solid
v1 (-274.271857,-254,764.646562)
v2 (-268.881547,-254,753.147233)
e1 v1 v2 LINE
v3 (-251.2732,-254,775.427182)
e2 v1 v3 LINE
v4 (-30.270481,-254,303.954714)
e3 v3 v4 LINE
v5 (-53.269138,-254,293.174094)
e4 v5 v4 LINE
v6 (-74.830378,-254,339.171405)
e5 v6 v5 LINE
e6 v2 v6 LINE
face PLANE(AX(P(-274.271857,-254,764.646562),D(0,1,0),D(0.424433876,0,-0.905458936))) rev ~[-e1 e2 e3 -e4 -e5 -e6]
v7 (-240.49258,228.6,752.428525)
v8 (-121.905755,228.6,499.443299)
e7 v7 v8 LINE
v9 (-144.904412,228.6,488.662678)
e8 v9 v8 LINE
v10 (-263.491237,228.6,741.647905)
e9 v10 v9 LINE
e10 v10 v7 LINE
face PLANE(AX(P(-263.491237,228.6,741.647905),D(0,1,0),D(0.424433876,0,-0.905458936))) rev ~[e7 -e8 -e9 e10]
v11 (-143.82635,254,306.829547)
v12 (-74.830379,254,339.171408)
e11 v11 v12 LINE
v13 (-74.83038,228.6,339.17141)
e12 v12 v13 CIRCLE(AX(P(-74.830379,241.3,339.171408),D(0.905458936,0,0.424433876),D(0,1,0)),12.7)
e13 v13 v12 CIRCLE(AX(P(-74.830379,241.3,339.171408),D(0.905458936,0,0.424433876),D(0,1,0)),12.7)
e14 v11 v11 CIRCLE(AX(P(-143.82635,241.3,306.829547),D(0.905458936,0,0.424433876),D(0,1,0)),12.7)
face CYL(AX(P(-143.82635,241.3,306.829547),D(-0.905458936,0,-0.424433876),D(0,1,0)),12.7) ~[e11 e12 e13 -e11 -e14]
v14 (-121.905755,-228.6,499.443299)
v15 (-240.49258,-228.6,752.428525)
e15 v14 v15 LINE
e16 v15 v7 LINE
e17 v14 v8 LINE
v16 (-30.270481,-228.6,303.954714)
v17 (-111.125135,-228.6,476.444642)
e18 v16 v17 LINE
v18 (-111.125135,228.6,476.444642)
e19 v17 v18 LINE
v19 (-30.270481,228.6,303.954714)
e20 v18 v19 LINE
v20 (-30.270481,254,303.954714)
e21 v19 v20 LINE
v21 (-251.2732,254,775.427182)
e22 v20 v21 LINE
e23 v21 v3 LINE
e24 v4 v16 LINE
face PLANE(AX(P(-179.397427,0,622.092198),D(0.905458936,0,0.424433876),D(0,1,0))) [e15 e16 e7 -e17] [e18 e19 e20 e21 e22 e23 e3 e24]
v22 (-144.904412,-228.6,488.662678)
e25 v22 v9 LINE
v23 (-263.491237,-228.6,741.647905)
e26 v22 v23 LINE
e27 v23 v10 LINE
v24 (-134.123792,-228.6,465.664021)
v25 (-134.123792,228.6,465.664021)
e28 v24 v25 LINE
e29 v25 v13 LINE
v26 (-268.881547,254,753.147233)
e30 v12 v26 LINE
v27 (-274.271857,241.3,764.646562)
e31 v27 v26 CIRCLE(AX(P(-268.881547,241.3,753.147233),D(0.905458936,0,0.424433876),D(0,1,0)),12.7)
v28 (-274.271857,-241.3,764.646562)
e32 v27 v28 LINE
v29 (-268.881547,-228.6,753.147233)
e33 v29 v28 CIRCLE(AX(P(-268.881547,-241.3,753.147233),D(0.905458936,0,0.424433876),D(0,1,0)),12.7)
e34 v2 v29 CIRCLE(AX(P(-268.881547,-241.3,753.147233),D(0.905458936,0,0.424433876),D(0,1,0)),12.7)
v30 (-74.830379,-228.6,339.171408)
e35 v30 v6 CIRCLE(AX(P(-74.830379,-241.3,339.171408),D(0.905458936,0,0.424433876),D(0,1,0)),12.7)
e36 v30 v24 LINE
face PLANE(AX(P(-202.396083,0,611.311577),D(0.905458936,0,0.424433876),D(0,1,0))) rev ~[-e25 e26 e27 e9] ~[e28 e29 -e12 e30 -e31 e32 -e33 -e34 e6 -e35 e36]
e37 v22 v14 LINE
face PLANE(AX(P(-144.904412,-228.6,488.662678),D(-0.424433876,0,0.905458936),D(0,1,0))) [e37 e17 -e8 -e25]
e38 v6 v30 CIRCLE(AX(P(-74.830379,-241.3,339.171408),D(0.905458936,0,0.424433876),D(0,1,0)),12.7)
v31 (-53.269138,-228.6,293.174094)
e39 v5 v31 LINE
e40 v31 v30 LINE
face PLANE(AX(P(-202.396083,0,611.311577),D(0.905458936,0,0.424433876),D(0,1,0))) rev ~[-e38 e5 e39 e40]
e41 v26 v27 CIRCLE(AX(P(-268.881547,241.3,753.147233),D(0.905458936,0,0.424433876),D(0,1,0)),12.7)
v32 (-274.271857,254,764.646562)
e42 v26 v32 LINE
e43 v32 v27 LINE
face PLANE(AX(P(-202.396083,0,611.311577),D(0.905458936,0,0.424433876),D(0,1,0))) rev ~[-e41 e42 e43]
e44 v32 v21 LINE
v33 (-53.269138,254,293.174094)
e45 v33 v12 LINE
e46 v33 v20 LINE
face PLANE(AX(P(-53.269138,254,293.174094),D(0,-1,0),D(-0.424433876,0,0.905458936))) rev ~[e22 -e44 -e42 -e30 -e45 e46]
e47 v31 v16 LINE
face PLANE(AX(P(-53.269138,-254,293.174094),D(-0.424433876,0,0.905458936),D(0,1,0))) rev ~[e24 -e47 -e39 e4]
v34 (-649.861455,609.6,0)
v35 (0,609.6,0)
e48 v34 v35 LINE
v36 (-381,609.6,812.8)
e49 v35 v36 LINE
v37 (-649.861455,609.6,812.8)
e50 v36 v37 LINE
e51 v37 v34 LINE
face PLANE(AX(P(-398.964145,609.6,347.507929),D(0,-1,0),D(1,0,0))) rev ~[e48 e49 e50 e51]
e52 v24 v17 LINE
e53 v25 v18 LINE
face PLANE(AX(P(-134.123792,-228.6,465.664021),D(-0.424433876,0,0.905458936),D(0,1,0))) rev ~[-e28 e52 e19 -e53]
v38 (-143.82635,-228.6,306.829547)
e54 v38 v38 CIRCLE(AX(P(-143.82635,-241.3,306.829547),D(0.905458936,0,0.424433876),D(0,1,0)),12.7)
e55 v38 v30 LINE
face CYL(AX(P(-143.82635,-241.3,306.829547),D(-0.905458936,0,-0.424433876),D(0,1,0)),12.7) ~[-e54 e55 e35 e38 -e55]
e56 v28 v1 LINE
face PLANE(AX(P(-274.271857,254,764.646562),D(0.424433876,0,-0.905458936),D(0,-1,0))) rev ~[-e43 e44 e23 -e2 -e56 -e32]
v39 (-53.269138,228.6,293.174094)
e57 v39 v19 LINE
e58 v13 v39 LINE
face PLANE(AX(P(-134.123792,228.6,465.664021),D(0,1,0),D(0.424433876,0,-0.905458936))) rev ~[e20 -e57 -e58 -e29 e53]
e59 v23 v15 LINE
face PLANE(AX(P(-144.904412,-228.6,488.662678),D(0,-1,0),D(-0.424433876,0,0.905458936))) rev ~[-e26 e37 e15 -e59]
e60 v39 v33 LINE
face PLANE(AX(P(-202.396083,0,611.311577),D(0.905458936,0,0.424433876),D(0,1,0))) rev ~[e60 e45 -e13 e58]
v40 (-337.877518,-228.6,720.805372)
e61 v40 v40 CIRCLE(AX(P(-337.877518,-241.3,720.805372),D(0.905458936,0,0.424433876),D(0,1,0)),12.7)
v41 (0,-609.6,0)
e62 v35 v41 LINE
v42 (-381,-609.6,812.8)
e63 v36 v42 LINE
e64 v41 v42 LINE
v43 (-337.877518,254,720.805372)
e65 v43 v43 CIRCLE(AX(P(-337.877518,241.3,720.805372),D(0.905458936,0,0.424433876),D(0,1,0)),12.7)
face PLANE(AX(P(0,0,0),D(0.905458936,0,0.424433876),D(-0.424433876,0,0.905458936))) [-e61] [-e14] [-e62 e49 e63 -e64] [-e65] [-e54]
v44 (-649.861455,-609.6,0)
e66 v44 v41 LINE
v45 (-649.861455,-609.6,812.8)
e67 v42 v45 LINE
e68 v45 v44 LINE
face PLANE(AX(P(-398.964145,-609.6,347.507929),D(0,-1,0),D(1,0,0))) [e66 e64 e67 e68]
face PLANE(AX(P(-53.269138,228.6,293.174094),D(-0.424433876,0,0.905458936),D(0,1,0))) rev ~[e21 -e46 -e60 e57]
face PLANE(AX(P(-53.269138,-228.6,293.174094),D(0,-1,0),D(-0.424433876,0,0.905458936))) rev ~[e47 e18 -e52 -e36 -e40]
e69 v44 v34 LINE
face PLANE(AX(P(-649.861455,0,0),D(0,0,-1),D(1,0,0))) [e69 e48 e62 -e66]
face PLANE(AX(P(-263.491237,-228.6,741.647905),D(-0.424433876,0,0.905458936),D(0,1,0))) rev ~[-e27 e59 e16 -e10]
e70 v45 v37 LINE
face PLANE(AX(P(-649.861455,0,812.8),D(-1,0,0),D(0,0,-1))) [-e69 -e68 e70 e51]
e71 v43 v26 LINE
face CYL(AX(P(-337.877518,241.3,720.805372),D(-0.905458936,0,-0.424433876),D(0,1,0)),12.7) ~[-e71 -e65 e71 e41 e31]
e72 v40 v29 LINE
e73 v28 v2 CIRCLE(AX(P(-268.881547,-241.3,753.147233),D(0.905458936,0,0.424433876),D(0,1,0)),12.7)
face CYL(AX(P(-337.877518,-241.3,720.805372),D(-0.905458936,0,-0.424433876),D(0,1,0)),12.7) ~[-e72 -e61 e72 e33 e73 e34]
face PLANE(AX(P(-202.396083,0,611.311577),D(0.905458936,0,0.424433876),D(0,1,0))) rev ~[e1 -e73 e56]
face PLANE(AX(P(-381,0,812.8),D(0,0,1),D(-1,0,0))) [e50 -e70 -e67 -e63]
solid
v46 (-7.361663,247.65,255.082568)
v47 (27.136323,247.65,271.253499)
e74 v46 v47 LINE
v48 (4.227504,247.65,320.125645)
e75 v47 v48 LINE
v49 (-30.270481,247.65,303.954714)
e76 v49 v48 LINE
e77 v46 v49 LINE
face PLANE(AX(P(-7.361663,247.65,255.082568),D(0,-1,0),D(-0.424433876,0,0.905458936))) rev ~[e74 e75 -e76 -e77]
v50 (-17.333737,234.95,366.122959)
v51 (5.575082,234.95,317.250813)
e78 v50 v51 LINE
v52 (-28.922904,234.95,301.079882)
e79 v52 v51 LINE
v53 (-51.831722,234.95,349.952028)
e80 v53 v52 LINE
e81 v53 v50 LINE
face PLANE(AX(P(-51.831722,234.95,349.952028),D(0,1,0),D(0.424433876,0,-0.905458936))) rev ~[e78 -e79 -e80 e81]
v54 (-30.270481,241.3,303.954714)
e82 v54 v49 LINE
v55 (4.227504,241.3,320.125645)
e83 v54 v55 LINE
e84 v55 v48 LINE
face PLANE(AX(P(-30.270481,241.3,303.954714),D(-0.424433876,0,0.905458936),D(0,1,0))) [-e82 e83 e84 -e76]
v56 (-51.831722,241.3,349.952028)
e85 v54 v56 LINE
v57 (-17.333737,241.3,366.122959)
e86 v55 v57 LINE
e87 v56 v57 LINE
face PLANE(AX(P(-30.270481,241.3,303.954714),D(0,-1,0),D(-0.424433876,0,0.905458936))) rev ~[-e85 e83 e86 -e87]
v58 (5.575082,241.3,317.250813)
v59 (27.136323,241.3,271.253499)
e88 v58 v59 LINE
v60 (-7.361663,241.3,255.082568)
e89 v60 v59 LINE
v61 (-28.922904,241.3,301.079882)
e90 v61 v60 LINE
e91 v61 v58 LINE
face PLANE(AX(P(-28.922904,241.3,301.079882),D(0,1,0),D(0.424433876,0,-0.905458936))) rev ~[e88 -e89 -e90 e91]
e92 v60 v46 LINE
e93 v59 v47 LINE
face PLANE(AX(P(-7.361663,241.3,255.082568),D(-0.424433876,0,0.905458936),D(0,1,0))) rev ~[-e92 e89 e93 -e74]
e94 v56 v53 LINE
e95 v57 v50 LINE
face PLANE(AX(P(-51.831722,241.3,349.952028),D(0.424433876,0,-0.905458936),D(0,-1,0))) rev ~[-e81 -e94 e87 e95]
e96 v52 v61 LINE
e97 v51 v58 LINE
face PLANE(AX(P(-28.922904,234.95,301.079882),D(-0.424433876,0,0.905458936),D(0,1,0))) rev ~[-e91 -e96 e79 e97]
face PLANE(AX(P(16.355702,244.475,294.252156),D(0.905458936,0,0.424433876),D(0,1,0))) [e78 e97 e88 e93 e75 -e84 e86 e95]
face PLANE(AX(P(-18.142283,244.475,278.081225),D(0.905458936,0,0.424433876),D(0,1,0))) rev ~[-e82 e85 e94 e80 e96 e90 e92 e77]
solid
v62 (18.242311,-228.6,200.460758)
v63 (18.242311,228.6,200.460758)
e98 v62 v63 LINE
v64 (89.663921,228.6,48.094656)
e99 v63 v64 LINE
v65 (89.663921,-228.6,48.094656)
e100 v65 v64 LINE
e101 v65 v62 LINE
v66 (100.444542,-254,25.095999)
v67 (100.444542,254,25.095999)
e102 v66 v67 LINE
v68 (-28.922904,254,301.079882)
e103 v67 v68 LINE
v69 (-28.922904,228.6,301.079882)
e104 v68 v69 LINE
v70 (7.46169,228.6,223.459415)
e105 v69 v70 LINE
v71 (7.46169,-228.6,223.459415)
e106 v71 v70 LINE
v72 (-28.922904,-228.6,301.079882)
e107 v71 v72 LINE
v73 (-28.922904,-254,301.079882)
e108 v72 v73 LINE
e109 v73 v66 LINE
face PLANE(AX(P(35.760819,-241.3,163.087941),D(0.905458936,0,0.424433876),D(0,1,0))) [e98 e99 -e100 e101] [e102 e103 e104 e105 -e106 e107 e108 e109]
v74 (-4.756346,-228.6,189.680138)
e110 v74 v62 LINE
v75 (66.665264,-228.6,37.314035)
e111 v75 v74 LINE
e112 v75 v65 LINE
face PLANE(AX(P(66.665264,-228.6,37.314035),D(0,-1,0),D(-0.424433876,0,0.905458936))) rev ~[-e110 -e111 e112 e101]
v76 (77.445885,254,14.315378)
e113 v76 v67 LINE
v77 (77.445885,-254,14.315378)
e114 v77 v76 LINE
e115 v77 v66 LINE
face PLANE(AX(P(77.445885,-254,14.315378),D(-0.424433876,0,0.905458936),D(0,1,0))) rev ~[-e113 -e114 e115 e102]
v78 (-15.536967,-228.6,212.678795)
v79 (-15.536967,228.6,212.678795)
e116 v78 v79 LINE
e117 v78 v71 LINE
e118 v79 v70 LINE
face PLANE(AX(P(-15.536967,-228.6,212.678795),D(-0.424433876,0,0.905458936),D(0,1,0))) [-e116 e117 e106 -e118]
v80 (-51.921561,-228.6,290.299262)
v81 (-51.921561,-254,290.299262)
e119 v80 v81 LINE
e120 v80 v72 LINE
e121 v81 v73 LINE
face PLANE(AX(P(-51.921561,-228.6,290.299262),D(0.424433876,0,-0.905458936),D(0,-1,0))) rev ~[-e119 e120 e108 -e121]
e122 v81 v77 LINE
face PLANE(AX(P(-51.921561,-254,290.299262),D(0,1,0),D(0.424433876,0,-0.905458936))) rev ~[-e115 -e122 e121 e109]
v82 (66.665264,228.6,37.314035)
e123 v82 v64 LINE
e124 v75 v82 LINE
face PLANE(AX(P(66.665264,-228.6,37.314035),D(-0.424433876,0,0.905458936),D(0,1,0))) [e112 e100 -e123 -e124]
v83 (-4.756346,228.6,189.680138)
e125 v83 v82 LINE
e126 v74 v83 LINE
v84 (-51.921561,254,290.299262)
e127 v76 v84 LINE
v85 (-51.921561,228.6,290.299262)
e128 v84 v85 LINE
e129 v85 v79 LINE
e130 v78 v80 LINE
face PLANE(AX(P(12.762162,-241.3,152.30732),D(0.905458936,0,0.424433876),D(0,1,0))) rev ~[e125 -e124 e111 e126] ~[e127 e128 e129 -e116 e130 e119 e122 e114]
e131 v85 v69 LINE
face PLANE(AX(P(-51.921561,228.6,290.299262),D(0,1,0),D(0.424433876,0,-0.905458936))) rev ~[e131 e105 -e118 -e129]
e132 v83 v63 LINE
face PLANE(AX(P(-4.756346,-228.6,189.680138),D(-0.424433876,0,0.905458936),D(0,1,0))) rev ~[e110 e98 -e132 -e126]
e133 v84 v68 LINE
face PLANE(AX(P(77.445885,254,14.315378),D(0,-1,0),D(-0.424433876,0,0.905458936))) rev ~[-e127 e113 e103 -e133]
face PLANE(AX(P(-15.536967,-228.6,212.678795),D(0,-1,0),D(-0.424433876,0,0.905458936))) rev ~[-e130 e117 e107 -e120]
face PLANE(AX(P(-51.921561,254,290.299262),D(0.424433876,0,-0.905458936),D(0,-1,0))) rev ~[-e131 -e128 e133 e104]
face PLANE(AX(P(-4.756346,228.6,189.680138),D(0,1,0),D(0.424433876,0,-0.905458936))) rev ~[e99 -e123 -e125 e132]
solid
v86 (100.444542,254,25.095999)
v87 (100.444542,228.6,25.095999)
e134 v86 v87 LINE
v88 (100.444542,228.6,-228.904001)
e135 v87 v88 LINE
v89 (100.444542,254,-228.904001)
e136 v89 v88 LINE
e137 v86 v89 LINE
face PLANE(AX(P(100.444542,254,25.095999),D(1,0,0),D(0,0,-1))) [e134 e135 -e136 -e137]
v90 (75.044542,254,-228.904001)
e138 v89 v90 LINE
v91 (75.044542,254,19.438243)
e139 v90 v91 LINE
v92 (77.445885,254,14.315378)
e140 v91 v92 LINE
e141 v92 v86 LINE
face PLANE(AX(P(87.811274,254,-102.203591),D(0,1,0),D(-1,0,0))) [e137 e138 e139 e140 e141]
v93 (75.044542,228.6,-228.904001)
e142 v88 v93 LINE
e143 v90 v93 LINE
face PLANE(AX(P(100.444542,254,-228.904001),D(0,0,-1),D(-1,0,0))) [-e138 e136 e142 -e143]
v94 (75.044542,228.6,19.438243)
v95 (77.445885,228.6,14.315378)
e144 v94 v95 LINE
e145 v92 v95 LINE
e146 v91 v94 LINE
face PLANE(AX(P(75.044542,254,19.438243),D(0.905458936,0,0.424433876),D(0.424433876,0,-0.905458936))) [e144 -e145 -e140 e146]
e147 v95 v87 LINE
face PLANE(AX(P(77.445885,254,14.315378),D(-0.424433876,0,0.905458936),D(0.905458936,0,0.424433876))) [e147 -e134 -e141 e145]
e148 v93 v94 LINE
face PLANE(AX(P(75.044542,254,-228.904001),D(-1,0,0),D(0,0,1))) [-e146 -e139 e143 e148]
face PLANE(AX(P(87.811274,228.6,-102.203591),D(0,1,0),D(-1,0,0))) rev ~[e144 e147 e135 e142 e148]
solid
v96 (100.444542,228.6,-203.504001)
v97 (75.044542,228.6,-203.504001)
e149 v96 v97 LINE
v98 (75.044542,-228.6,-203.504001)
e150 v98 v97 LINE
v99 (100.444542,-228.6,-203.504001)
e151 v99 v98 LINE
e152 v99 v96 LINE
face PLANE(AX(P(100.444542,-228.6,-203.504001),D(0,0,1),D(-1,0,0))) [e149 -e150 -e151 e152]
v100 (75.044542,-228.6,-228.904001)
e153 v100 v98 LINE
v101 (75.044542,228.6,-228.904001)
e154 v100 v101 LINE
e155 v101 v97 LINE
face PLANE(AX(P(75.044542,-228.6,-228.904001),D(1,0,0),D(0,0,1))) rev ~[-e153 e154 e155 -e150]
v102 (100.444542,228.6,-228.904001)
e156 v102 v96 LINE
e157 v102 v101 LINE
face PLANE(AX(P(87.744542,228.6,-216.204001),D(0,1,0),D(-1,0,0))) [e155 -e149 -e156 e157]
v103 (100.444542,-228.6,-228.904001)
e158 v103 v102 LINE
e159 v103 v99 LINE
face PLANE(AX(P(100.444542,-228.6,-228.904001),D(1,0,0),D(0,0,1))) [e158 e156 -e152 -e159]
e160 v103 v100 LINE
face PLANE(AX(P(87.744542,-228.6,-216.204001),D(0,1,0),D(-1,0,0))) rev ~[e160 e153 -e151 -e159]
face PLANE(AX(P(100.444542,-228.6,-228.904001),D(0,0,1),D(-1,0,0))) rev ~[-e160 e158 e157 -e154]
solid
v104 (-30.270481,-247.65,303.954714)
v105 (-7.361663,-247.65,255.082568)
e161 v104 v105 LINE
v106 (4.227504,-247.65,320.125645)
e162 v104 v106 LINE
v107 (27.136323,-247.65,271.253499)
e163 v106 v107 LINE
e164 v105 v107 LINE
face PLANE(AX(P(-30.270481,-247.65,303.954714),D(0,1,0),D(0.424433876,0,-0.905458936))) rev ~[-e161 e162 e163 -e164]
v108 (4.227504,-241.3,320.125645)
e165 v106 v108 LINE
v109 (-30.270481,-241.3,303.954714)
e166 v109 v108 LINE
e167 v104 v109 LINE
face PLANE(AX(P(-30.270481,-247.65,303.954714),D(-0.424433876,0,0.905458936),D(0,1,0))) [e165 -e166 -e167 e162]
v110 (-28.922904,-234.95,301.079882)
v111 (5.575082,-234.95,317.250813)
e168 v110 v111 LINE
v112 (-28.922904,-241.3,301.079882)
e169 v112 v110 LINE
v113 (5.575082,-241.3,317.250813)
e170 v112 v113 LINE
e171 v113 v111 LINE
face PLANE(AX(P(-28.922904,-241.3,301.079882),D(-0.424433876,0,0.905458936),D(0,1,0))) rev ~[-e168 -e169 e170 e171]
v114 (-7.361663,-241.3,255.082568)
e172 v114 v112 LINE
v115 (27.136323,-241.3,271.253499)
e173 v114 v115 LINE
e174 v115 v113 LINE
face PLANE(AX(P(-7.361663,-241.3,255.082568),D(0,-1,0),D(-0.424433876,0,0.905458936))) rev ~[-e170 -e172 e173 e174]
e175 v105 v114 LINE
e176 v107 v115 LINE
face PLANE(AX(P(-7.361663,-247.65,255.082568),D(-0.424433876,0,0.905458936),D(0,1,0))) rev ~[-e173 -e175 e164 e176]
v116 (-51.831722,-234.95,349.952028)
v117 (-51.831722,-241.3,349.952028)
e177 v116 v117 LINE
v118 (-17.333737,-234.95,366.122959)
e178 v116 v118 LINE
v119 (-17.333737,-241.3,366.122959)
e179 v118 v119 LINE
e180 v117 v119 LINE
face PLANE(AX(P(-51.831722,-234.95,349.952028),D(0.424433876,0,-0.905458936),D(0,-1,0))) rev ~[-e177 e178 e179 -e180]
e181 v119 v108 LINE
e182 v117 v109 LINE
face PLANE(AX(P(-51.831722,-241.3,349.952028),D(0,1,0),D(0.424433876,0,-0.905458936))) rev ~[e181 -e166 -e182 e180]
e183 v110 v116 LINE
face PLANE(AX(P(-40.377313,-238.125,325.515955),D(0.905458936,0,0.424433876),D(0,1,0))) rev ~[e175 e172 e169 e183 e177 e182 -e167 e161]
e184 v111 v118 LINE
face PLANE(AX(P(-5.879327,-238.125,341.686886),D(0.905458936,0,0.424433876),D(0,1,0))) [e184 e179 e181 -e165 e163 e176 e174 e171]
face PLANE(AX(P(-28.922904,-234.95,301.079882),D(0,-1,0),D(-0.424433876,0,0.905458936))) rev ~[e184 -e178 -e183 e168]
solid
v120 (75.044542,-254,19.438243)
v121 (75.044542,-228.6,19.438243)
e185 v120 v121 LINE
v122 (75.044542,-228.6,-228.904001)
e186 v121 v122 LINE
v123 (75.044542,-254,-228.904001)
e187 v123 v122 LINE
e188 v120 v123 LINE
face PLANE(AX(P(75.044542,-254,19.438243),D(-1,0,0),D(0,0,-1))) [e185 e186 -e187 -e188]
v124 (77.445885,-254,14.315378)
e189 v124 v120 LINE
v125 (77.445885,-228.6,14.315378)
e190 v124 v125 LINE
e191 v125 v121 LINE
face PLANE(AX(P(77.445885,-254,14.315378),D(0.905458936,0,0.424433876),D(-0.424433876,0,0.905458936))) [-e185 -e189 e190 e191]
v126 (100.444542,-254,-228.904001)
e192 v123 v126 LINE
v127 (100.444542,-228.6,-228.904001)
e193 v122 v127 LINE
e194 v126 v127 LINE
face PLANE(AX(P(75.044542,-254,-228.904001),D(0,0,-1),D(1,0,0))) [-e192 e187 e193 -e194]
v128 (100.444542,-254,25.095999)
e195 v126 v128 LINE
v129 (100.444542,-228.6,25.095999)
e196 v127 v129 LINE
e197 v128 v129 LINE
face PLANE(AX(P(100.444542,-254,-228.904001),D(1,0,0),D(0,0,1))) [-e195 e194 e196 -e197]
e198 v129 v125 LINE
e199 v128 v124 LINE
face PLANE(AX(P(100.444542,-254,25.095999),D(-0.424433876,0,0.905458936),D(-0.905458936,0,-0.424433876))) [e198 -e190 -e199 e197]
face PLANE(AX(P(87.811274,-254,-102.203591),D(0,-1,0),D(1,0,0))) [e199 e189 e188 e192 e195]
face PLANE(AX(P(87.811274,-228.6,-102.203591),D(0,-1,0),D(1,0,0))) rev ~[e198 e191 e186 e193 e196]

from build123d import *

# Parameters (mm, degrees)
F1_DEPTH  = 609.6
F2_R      = 12.7
F3_DEPTH  = 76.2
F4_W      = 457.2
F4_H      = 25.4
F5_DEPTH  = 25.4
F7_DEPTH  = 25.4
F9_DEPTH  = 25.4
F10_W     = 25.4
F10_H     = 25.4
F11_DEPTH = 457.2
F12_W     = 6.35
F12_H     = 50.8
F12_H_2   = 3.175
F13_DEPTH = 38.1


with BuildPart() as f1:
    # F0 (on Front) → F1 (new body, symmetric)
    with BuildSketch(Plane.XZ):
        Polygon((-649.8614549637, 0), (0, 0), (-381, 812.8), (-649.8614549637, 812.8), align=None)
    extrude(amount=F1_DEPTH, both=True)

    # F2 (on face) → F3 (join)
    with BuildSketch(Plane(origin=(0, 0, 0), x_dir=(0, 1, 0), z_dir=(0.905458936, 0, 0.4244338762))):
        with Locations((-241.3, 796.0663299913)):
            Circle(F2_R)
        with Locations((241.3, 796.0663299913)):
            Circle(F2_R)
        with Locations((241.3, 338.8663299913)):
            Circle(F2_R)
        with Locations((-241.3, 338.8663299913)):
            Circle(F2_R)
    extrude(amount=F3_DEPTH)

    # F4 (on face) → F5 (join)
    with BuildSketch(Plane(origin=(68.9959709201, 0, 32.3418613688), x_dir=(0, 1, 0), z_dir=(0.905458936, 0, 0.4244338762))):
        with BuildLine():
            Line((228.6, 796.0663299913), (-228.6, 796.0663299913))
            ThreePointArc((-228.6, 796.0663299913), (-232.3197438789, 787.0860738702), (-241.3, 783.3663299913))
            Line((-241.3, 783.3663299913), (-241.3, 351.5663299913))
            ThreePointArc((-241.3, 351.5663299913), (-232.3197438789, 347.8465861123), (-228.6, 338.8663299913))
            Line((-228.6, 338.8663299913), (-228.6, 478.5663299913))
            Line((-228.6, 478.5663299913), (-228.6, 503.9663299913))
            Line((-228.6, 503.9663299913), (-228.6, 783.3663299913))
            Line((-228.6, 783.3663299913), (228.6, 783.3663299913))
            Line((228.6, 783.3663299913), (228.6, 503.9663299913))
            Line((228.6, 503.9663299913), (228.6, 478.5663299913))
            Line((228.6, 478.5663299913), (228.6, 338.8663299913))
            ThreePointArc((228.6, 338.8663299913), (232.3197438789, 347.8465861123), (241.3, 351.5663299913))
            Line((241.3, 351.5663299913), (241.3, 783.3663299913))
            ThreePointArc((241.3, 783.3663299913), (232.3197438789, 787.0860738702), (228.6, 796.0663299913))
        make_face()
        with BuildLine():
            ThreePointArc((-241.3, 808.7663299913), (-232.3197438789, 805.0465861123), (-228.6, 796.0663299913))
            Line((-228.6, 796.0663299913), (228.6, 796.0663299913))
            ThreePointArc((228.6, 796.0663299913), (232.3197438789, 805.0465861123), (241.3, 808.7663299913))
            Line((241.3, 808.7663299913), (-241.3, 808.7663299913))
        make_face()
        with BuildLine():
            Line((-241.3, 351.5663299913), (-241.3, 783.3663299913))
            ThreePointArc((-241.3, 783.3663299913), (-250.2802561211, 787.0860738702), (-254, 796.0663299913))
            Line((-254, 796.0663299913), (-254, 338.8663299913))
            ThreePointArc((-254, 338.8663299913), (-250.2802561211, 347.8465861123), (-241.3, 351.5663299913))
        make_face()
        with BuildLine():
            ThreePointArc((254, 796.0663299913), (250.2802561211, 787.0860738702), (241.3, 783.3663299913))
            Line((241.3, 783.3663299913), (241.3, 351.5663299913))
            ThreePointArc((241.3, 351.5663299913), (250.2802561211, 347.8465861123), (254, 338.8663299913))
            Line((254, 338.8663299913), (254, 796.0663299913))
        make_face()
        with BuildLine():
            ThreePointArc((241.3, 808.7663299913), (232.3197438789, 805.0465861123), (228.6, 796.0663299913))
            Line((228.6, 796.0663299913), (241.3, 796.0663299913))
            Line((241.3, 796.0663299913), (241.3, 783.3663299913))
            ThreePointArc((241.3, 783.3663299913), (250.2802561211, 787.0860738702), (254, 796.0663299913))
            ThreePointArc((254, 796.0663299913), (250.2802561211, 805.0465861123), (241.3, 808.7663299913))
        make_face()
        with BuildLine():
            Line((241.3, 796.0663299913), (228.6, 796.0663299913))
            ThreePointArc((228.6, 796.0663299913), (232.3197438789, 787.0860738702), (241.3, 783.3663299913))
            Line((241.3, 783.3663299913), (241.3, 796.0663299913))
        make_face()
        with BuildLine():
            Line((254, 808.7663299913), (241.3, 808.7663299913))
            ThreePointArc((241.3, 808.7663299913), (250.2802561211, 805.0465861123), (254, 796.0663299913))
            Line((254, 796.0663299913), (254, 808.7663299913))
        make_face()
        with BuildLine():
            Line((-241.3, 796.0663299913), (-228.6, 796.0663299913))
            ThreePointArc((-228.6, 796.0663299913), (-232.3197438789, 805.0465861123), (-241.3, 808.7663299913))
            ThreePointArc((-241.3, 808.7663299913), (-250.2802561211, 805.0465861123), (-254, 796.0663299913))
            ThreePointArc((-254, 796.0663299913), (-250.2802561211, 787.0860738702), (-241.3, 783.3663299913))
            Line((-241.3, 783.3663299913), (-241.3, 796.0663299913))
        make_face()
        with BuildLine():
            ThreePointArc((-254, 796.0663299913), (-250.2802561211, 805.0465861123), (-241.3, 808.7663299913))
            Line((-241.3, 808.7663299913), (-254, 808.7663299913))
            Line((-254, 808.7663299913), (-254, 796.0663299913))
        make_face()
        with BuildLine():
            ThreePointArc((-241.3, 783.3663299913), (-232.3197438789, 787.0860738702), (-228.6, 796.0663299913))
            Line((-228.6, 796.0663299913), (-241.3, 796.0663299913))
            Line((-241.3, 796.0663299913), (-241.3, 783.3663299913))
        make_face()
        with Locations((0, 491.2663299913)):
            Rectangle(F4_W, F4_H)
        with BuildLine():
            Line((-241.3, 326.1663299913), (-241.3, 351.5663299913))
            ThreePointArc((-241.3, 351.5663299913), (-250.2802561211, 347.8465861123), (-254, 338.8663299913))
            ThreePointArc((-254, 338.8663299913), (-250.2802561211, 329.8860738702), (-241.3, 326.1663299913))
        make_face()
        with BuildLine():
            ThreePointArc((-228.6, 338.8663299913), (-232.3197438789, 347.8465861123), (-241.3, 351.5663299913))
            Line((-241.3, 351.5663299913), (-241.3, 326.1663299913))
            ThreePointArc((-241.3, 326.1663299913), (-232.3197438789, 329.8860738702), (-228.6, 338.8663299913))
        make_face()
        with BuildLine():
            ThreePointArc((-228.6, 338.8663299913), (-232.3197438789, 329.8860738702), (-241.3, 326.1663299913))
            Line((-241.3, 326.1663299913), (-241.3, 288.0663299913))
            Line((-241.3, 288.0663299913), (-228.6, 288.0663299913))
            Line((-228.6, 288.0663299913), (-228.6, 338.8663299913))
        make_face()
        with BuildLine():
            ThreePointArc((-241.3, 326.1663299913), (-250.2802561211, 329.8860738702), (-254, 338.8663299913))
            Line((-254, 338.8663299913), (-254, 288.0663299913))
            Line((-254, 288.0663299913), (-241.3, 288.0663299913))
            Line((-241.3, 288.0663299913), (-241.3, 326.1663299913))
        make_face()
        with BuildLine():
            ThreePointArc((254, 338.8663299913), (250.2802561211, 347.8465861123), (241.3, 351.5663299913))
            Line((241.3, 351.5663299913), (241.3, 326.1663299913))
            ThreePointArc((241.3, 326.1663299913), (250.2802561211, 329.8860738702), (254, 338.8663299913))
        make_face()
        with BuildLine():
            Line((241.3, 326.1663299913), (241.3, 351.5663299913))
            ThreePointArc((241.3, 351.5663299913), (232.3197438789, 347.8465861123), (228.6, 338.8663299913))
            ThreePointArc((228.6, 338.8663299913), (232.3197438789, 329.8860738702), (241.3, 326.1663299913))
        make_face()
        with BuildLine():
            ThreePointArc((241.3, 326.1663299913), (232.3197438789, 329.8860738702), (228.6, 338.8663299913))
            Line((228.6, 338.8663299913), (228.6, 288.0663299913))
            Line((228.6, 288.0663299913), (241.3, 288.0663299913))
            Line((241.3, 288.0663299913), (241.3, 326.1663299913))
        make_face()
        with BuildLine():
            Line((254, 288.0663299913), (254, 338.8663299913))
            ThreePointArc((254, 338.8663299913), (250.2802561211, 329.8860738702), (241.3, 326.1663299913))
            Line((241.3, 326.1663299913), (241.3, 288.0663299913))
            Line((241.3, 288.0663299913), (254, 288.0663299913))
        make_face()
    extrude(amount=F5_DEPTH)


with BuildPart() as f5:
    # F4 (on face) → F5, piece 2 (new body)
    with BuildSketch(Plane(origin=(68.9959709201, 0, 32.3418613688), x_dir=(0, 1, 0), z_dir=(0.905458936, 0, 0.4244338762))):
        Polygon((-228.6, 284.8913299913), (-254, 284.8913299913), (-254, -19.9086700087), (-228.6, -19.9086700087), (-228.6, 5.4913299913), (-228.6, 173.7663299913), (-228.6, 199.1663299913), align=None)
        Polygon((228.6, 284.8913299913), (228.6, 199.1663299913), (228.6, 173.7663299913), (228.6, 5.4913299913), (228.6, -19.9086700087), (254, -19.9086700087), (254, 284.8913299913), align=None)
        with Locations((0, 186.4663299913)):
            Rectangle(F4_W, F4_H)
        with Locations((0, -7.2086700087)):
            Rectangle(F4_W, F4_H)
    extrude(amount=F5_DEPTH)


with BuildPart() as f7:
    # F6 (on face) → F7 (new body)
    with BuildSketch(Plane.XZ.offset(254)):
        Polygon((100.4445418758, -228.9040013374), (100.4445418758, 25.0959986626), (77.4458849025, 14.3153782063), (75.0445418758, 19.4382433298), (75.0445418758, -228.9040013374), align=None)
    extrude(amount=-F7_DEPTH)


with BuildPart() as f9:
    # F8 (on face) → F9 (new body)
    with BuildSketch(Plane(origin=(0, 254, 0), x_dir=(-1, 0, 0), z_dir=(0, 1, 0))):
        Polygon((-77.4458849025, 14.3153782063), (-100.4445418758, 25.0959986626), (-100.4445418758, -228.9040013374), (-75.0445418758, -228.9040013374), (-75.0445418758, 19.4382433298), align=None)
    extrude(amount=-F9_DEPTH)


with BuildPart() as f11:
    # F10 (on face) → F11 (new body, through all)
    with BuildSketch(Plane(origin=(0, -228.6, 0), x_dir=(-1, 0, 0), z_dir=(0, 1, 0))):
        with Locations((-87.7445418758, -216.2040013374)):
            Rectangle(F10_W, F10_H)
    extrude(amount=F11_DEPTH)


with BuildPart() as f13:
    # F12 (on face) → F13 (new body)
    with BuildSketch(Plane(origin=(91.9946278934, 0, 43.122481825), x_dir=(0, 1, 0), z_dir=(0.905458936, 0, 0.4244338762))):
        Polygon((-241.3, 288.0663299913), (-241.3, 284.8913299913), (-234.95, 284.8913299913), (-234.95, 338.8663299913), (-241.3, 338.8663299913), align=None)
        with Locations((-244.475, 259.4913299913)):
            Rectangle(F12_W, F12_H)
        with Locations((-244.475, 286.4788299913)):
            Rectangle(F12_W, F12_H_2)
    extrude(amount=F13_DEPTH)


with BuildPart() as f13b:
    # F12 (on face) → F13, piece 2 (new body)
    with BuildSketch(Plane(origin=(91.9946278934, 0, 43.122481825), x_dir=(0, 1, 0), z_dir=(0.905458936, 0, 0.4244338762))):
        with Locations((244.475, 259.4913299913)):
            Rectangle(F12_W, F12_H)
        with Locations((244.475, 286.4788299913)):
            Rectangle(F12_W, F12_H_2)
        Polygon((234.95, 284.8913299913), (241.3, 284.8913299913), (241.3, 288.0663299913), (241.3, 338.8663299913), (234.95, 338.8663299913), align=None)
    extrude(amount=F13_DEPTH)


solid = Compound([f1.part, f5.part, f7.part, f9.part, f11.part, f13.part, f13b.part])
